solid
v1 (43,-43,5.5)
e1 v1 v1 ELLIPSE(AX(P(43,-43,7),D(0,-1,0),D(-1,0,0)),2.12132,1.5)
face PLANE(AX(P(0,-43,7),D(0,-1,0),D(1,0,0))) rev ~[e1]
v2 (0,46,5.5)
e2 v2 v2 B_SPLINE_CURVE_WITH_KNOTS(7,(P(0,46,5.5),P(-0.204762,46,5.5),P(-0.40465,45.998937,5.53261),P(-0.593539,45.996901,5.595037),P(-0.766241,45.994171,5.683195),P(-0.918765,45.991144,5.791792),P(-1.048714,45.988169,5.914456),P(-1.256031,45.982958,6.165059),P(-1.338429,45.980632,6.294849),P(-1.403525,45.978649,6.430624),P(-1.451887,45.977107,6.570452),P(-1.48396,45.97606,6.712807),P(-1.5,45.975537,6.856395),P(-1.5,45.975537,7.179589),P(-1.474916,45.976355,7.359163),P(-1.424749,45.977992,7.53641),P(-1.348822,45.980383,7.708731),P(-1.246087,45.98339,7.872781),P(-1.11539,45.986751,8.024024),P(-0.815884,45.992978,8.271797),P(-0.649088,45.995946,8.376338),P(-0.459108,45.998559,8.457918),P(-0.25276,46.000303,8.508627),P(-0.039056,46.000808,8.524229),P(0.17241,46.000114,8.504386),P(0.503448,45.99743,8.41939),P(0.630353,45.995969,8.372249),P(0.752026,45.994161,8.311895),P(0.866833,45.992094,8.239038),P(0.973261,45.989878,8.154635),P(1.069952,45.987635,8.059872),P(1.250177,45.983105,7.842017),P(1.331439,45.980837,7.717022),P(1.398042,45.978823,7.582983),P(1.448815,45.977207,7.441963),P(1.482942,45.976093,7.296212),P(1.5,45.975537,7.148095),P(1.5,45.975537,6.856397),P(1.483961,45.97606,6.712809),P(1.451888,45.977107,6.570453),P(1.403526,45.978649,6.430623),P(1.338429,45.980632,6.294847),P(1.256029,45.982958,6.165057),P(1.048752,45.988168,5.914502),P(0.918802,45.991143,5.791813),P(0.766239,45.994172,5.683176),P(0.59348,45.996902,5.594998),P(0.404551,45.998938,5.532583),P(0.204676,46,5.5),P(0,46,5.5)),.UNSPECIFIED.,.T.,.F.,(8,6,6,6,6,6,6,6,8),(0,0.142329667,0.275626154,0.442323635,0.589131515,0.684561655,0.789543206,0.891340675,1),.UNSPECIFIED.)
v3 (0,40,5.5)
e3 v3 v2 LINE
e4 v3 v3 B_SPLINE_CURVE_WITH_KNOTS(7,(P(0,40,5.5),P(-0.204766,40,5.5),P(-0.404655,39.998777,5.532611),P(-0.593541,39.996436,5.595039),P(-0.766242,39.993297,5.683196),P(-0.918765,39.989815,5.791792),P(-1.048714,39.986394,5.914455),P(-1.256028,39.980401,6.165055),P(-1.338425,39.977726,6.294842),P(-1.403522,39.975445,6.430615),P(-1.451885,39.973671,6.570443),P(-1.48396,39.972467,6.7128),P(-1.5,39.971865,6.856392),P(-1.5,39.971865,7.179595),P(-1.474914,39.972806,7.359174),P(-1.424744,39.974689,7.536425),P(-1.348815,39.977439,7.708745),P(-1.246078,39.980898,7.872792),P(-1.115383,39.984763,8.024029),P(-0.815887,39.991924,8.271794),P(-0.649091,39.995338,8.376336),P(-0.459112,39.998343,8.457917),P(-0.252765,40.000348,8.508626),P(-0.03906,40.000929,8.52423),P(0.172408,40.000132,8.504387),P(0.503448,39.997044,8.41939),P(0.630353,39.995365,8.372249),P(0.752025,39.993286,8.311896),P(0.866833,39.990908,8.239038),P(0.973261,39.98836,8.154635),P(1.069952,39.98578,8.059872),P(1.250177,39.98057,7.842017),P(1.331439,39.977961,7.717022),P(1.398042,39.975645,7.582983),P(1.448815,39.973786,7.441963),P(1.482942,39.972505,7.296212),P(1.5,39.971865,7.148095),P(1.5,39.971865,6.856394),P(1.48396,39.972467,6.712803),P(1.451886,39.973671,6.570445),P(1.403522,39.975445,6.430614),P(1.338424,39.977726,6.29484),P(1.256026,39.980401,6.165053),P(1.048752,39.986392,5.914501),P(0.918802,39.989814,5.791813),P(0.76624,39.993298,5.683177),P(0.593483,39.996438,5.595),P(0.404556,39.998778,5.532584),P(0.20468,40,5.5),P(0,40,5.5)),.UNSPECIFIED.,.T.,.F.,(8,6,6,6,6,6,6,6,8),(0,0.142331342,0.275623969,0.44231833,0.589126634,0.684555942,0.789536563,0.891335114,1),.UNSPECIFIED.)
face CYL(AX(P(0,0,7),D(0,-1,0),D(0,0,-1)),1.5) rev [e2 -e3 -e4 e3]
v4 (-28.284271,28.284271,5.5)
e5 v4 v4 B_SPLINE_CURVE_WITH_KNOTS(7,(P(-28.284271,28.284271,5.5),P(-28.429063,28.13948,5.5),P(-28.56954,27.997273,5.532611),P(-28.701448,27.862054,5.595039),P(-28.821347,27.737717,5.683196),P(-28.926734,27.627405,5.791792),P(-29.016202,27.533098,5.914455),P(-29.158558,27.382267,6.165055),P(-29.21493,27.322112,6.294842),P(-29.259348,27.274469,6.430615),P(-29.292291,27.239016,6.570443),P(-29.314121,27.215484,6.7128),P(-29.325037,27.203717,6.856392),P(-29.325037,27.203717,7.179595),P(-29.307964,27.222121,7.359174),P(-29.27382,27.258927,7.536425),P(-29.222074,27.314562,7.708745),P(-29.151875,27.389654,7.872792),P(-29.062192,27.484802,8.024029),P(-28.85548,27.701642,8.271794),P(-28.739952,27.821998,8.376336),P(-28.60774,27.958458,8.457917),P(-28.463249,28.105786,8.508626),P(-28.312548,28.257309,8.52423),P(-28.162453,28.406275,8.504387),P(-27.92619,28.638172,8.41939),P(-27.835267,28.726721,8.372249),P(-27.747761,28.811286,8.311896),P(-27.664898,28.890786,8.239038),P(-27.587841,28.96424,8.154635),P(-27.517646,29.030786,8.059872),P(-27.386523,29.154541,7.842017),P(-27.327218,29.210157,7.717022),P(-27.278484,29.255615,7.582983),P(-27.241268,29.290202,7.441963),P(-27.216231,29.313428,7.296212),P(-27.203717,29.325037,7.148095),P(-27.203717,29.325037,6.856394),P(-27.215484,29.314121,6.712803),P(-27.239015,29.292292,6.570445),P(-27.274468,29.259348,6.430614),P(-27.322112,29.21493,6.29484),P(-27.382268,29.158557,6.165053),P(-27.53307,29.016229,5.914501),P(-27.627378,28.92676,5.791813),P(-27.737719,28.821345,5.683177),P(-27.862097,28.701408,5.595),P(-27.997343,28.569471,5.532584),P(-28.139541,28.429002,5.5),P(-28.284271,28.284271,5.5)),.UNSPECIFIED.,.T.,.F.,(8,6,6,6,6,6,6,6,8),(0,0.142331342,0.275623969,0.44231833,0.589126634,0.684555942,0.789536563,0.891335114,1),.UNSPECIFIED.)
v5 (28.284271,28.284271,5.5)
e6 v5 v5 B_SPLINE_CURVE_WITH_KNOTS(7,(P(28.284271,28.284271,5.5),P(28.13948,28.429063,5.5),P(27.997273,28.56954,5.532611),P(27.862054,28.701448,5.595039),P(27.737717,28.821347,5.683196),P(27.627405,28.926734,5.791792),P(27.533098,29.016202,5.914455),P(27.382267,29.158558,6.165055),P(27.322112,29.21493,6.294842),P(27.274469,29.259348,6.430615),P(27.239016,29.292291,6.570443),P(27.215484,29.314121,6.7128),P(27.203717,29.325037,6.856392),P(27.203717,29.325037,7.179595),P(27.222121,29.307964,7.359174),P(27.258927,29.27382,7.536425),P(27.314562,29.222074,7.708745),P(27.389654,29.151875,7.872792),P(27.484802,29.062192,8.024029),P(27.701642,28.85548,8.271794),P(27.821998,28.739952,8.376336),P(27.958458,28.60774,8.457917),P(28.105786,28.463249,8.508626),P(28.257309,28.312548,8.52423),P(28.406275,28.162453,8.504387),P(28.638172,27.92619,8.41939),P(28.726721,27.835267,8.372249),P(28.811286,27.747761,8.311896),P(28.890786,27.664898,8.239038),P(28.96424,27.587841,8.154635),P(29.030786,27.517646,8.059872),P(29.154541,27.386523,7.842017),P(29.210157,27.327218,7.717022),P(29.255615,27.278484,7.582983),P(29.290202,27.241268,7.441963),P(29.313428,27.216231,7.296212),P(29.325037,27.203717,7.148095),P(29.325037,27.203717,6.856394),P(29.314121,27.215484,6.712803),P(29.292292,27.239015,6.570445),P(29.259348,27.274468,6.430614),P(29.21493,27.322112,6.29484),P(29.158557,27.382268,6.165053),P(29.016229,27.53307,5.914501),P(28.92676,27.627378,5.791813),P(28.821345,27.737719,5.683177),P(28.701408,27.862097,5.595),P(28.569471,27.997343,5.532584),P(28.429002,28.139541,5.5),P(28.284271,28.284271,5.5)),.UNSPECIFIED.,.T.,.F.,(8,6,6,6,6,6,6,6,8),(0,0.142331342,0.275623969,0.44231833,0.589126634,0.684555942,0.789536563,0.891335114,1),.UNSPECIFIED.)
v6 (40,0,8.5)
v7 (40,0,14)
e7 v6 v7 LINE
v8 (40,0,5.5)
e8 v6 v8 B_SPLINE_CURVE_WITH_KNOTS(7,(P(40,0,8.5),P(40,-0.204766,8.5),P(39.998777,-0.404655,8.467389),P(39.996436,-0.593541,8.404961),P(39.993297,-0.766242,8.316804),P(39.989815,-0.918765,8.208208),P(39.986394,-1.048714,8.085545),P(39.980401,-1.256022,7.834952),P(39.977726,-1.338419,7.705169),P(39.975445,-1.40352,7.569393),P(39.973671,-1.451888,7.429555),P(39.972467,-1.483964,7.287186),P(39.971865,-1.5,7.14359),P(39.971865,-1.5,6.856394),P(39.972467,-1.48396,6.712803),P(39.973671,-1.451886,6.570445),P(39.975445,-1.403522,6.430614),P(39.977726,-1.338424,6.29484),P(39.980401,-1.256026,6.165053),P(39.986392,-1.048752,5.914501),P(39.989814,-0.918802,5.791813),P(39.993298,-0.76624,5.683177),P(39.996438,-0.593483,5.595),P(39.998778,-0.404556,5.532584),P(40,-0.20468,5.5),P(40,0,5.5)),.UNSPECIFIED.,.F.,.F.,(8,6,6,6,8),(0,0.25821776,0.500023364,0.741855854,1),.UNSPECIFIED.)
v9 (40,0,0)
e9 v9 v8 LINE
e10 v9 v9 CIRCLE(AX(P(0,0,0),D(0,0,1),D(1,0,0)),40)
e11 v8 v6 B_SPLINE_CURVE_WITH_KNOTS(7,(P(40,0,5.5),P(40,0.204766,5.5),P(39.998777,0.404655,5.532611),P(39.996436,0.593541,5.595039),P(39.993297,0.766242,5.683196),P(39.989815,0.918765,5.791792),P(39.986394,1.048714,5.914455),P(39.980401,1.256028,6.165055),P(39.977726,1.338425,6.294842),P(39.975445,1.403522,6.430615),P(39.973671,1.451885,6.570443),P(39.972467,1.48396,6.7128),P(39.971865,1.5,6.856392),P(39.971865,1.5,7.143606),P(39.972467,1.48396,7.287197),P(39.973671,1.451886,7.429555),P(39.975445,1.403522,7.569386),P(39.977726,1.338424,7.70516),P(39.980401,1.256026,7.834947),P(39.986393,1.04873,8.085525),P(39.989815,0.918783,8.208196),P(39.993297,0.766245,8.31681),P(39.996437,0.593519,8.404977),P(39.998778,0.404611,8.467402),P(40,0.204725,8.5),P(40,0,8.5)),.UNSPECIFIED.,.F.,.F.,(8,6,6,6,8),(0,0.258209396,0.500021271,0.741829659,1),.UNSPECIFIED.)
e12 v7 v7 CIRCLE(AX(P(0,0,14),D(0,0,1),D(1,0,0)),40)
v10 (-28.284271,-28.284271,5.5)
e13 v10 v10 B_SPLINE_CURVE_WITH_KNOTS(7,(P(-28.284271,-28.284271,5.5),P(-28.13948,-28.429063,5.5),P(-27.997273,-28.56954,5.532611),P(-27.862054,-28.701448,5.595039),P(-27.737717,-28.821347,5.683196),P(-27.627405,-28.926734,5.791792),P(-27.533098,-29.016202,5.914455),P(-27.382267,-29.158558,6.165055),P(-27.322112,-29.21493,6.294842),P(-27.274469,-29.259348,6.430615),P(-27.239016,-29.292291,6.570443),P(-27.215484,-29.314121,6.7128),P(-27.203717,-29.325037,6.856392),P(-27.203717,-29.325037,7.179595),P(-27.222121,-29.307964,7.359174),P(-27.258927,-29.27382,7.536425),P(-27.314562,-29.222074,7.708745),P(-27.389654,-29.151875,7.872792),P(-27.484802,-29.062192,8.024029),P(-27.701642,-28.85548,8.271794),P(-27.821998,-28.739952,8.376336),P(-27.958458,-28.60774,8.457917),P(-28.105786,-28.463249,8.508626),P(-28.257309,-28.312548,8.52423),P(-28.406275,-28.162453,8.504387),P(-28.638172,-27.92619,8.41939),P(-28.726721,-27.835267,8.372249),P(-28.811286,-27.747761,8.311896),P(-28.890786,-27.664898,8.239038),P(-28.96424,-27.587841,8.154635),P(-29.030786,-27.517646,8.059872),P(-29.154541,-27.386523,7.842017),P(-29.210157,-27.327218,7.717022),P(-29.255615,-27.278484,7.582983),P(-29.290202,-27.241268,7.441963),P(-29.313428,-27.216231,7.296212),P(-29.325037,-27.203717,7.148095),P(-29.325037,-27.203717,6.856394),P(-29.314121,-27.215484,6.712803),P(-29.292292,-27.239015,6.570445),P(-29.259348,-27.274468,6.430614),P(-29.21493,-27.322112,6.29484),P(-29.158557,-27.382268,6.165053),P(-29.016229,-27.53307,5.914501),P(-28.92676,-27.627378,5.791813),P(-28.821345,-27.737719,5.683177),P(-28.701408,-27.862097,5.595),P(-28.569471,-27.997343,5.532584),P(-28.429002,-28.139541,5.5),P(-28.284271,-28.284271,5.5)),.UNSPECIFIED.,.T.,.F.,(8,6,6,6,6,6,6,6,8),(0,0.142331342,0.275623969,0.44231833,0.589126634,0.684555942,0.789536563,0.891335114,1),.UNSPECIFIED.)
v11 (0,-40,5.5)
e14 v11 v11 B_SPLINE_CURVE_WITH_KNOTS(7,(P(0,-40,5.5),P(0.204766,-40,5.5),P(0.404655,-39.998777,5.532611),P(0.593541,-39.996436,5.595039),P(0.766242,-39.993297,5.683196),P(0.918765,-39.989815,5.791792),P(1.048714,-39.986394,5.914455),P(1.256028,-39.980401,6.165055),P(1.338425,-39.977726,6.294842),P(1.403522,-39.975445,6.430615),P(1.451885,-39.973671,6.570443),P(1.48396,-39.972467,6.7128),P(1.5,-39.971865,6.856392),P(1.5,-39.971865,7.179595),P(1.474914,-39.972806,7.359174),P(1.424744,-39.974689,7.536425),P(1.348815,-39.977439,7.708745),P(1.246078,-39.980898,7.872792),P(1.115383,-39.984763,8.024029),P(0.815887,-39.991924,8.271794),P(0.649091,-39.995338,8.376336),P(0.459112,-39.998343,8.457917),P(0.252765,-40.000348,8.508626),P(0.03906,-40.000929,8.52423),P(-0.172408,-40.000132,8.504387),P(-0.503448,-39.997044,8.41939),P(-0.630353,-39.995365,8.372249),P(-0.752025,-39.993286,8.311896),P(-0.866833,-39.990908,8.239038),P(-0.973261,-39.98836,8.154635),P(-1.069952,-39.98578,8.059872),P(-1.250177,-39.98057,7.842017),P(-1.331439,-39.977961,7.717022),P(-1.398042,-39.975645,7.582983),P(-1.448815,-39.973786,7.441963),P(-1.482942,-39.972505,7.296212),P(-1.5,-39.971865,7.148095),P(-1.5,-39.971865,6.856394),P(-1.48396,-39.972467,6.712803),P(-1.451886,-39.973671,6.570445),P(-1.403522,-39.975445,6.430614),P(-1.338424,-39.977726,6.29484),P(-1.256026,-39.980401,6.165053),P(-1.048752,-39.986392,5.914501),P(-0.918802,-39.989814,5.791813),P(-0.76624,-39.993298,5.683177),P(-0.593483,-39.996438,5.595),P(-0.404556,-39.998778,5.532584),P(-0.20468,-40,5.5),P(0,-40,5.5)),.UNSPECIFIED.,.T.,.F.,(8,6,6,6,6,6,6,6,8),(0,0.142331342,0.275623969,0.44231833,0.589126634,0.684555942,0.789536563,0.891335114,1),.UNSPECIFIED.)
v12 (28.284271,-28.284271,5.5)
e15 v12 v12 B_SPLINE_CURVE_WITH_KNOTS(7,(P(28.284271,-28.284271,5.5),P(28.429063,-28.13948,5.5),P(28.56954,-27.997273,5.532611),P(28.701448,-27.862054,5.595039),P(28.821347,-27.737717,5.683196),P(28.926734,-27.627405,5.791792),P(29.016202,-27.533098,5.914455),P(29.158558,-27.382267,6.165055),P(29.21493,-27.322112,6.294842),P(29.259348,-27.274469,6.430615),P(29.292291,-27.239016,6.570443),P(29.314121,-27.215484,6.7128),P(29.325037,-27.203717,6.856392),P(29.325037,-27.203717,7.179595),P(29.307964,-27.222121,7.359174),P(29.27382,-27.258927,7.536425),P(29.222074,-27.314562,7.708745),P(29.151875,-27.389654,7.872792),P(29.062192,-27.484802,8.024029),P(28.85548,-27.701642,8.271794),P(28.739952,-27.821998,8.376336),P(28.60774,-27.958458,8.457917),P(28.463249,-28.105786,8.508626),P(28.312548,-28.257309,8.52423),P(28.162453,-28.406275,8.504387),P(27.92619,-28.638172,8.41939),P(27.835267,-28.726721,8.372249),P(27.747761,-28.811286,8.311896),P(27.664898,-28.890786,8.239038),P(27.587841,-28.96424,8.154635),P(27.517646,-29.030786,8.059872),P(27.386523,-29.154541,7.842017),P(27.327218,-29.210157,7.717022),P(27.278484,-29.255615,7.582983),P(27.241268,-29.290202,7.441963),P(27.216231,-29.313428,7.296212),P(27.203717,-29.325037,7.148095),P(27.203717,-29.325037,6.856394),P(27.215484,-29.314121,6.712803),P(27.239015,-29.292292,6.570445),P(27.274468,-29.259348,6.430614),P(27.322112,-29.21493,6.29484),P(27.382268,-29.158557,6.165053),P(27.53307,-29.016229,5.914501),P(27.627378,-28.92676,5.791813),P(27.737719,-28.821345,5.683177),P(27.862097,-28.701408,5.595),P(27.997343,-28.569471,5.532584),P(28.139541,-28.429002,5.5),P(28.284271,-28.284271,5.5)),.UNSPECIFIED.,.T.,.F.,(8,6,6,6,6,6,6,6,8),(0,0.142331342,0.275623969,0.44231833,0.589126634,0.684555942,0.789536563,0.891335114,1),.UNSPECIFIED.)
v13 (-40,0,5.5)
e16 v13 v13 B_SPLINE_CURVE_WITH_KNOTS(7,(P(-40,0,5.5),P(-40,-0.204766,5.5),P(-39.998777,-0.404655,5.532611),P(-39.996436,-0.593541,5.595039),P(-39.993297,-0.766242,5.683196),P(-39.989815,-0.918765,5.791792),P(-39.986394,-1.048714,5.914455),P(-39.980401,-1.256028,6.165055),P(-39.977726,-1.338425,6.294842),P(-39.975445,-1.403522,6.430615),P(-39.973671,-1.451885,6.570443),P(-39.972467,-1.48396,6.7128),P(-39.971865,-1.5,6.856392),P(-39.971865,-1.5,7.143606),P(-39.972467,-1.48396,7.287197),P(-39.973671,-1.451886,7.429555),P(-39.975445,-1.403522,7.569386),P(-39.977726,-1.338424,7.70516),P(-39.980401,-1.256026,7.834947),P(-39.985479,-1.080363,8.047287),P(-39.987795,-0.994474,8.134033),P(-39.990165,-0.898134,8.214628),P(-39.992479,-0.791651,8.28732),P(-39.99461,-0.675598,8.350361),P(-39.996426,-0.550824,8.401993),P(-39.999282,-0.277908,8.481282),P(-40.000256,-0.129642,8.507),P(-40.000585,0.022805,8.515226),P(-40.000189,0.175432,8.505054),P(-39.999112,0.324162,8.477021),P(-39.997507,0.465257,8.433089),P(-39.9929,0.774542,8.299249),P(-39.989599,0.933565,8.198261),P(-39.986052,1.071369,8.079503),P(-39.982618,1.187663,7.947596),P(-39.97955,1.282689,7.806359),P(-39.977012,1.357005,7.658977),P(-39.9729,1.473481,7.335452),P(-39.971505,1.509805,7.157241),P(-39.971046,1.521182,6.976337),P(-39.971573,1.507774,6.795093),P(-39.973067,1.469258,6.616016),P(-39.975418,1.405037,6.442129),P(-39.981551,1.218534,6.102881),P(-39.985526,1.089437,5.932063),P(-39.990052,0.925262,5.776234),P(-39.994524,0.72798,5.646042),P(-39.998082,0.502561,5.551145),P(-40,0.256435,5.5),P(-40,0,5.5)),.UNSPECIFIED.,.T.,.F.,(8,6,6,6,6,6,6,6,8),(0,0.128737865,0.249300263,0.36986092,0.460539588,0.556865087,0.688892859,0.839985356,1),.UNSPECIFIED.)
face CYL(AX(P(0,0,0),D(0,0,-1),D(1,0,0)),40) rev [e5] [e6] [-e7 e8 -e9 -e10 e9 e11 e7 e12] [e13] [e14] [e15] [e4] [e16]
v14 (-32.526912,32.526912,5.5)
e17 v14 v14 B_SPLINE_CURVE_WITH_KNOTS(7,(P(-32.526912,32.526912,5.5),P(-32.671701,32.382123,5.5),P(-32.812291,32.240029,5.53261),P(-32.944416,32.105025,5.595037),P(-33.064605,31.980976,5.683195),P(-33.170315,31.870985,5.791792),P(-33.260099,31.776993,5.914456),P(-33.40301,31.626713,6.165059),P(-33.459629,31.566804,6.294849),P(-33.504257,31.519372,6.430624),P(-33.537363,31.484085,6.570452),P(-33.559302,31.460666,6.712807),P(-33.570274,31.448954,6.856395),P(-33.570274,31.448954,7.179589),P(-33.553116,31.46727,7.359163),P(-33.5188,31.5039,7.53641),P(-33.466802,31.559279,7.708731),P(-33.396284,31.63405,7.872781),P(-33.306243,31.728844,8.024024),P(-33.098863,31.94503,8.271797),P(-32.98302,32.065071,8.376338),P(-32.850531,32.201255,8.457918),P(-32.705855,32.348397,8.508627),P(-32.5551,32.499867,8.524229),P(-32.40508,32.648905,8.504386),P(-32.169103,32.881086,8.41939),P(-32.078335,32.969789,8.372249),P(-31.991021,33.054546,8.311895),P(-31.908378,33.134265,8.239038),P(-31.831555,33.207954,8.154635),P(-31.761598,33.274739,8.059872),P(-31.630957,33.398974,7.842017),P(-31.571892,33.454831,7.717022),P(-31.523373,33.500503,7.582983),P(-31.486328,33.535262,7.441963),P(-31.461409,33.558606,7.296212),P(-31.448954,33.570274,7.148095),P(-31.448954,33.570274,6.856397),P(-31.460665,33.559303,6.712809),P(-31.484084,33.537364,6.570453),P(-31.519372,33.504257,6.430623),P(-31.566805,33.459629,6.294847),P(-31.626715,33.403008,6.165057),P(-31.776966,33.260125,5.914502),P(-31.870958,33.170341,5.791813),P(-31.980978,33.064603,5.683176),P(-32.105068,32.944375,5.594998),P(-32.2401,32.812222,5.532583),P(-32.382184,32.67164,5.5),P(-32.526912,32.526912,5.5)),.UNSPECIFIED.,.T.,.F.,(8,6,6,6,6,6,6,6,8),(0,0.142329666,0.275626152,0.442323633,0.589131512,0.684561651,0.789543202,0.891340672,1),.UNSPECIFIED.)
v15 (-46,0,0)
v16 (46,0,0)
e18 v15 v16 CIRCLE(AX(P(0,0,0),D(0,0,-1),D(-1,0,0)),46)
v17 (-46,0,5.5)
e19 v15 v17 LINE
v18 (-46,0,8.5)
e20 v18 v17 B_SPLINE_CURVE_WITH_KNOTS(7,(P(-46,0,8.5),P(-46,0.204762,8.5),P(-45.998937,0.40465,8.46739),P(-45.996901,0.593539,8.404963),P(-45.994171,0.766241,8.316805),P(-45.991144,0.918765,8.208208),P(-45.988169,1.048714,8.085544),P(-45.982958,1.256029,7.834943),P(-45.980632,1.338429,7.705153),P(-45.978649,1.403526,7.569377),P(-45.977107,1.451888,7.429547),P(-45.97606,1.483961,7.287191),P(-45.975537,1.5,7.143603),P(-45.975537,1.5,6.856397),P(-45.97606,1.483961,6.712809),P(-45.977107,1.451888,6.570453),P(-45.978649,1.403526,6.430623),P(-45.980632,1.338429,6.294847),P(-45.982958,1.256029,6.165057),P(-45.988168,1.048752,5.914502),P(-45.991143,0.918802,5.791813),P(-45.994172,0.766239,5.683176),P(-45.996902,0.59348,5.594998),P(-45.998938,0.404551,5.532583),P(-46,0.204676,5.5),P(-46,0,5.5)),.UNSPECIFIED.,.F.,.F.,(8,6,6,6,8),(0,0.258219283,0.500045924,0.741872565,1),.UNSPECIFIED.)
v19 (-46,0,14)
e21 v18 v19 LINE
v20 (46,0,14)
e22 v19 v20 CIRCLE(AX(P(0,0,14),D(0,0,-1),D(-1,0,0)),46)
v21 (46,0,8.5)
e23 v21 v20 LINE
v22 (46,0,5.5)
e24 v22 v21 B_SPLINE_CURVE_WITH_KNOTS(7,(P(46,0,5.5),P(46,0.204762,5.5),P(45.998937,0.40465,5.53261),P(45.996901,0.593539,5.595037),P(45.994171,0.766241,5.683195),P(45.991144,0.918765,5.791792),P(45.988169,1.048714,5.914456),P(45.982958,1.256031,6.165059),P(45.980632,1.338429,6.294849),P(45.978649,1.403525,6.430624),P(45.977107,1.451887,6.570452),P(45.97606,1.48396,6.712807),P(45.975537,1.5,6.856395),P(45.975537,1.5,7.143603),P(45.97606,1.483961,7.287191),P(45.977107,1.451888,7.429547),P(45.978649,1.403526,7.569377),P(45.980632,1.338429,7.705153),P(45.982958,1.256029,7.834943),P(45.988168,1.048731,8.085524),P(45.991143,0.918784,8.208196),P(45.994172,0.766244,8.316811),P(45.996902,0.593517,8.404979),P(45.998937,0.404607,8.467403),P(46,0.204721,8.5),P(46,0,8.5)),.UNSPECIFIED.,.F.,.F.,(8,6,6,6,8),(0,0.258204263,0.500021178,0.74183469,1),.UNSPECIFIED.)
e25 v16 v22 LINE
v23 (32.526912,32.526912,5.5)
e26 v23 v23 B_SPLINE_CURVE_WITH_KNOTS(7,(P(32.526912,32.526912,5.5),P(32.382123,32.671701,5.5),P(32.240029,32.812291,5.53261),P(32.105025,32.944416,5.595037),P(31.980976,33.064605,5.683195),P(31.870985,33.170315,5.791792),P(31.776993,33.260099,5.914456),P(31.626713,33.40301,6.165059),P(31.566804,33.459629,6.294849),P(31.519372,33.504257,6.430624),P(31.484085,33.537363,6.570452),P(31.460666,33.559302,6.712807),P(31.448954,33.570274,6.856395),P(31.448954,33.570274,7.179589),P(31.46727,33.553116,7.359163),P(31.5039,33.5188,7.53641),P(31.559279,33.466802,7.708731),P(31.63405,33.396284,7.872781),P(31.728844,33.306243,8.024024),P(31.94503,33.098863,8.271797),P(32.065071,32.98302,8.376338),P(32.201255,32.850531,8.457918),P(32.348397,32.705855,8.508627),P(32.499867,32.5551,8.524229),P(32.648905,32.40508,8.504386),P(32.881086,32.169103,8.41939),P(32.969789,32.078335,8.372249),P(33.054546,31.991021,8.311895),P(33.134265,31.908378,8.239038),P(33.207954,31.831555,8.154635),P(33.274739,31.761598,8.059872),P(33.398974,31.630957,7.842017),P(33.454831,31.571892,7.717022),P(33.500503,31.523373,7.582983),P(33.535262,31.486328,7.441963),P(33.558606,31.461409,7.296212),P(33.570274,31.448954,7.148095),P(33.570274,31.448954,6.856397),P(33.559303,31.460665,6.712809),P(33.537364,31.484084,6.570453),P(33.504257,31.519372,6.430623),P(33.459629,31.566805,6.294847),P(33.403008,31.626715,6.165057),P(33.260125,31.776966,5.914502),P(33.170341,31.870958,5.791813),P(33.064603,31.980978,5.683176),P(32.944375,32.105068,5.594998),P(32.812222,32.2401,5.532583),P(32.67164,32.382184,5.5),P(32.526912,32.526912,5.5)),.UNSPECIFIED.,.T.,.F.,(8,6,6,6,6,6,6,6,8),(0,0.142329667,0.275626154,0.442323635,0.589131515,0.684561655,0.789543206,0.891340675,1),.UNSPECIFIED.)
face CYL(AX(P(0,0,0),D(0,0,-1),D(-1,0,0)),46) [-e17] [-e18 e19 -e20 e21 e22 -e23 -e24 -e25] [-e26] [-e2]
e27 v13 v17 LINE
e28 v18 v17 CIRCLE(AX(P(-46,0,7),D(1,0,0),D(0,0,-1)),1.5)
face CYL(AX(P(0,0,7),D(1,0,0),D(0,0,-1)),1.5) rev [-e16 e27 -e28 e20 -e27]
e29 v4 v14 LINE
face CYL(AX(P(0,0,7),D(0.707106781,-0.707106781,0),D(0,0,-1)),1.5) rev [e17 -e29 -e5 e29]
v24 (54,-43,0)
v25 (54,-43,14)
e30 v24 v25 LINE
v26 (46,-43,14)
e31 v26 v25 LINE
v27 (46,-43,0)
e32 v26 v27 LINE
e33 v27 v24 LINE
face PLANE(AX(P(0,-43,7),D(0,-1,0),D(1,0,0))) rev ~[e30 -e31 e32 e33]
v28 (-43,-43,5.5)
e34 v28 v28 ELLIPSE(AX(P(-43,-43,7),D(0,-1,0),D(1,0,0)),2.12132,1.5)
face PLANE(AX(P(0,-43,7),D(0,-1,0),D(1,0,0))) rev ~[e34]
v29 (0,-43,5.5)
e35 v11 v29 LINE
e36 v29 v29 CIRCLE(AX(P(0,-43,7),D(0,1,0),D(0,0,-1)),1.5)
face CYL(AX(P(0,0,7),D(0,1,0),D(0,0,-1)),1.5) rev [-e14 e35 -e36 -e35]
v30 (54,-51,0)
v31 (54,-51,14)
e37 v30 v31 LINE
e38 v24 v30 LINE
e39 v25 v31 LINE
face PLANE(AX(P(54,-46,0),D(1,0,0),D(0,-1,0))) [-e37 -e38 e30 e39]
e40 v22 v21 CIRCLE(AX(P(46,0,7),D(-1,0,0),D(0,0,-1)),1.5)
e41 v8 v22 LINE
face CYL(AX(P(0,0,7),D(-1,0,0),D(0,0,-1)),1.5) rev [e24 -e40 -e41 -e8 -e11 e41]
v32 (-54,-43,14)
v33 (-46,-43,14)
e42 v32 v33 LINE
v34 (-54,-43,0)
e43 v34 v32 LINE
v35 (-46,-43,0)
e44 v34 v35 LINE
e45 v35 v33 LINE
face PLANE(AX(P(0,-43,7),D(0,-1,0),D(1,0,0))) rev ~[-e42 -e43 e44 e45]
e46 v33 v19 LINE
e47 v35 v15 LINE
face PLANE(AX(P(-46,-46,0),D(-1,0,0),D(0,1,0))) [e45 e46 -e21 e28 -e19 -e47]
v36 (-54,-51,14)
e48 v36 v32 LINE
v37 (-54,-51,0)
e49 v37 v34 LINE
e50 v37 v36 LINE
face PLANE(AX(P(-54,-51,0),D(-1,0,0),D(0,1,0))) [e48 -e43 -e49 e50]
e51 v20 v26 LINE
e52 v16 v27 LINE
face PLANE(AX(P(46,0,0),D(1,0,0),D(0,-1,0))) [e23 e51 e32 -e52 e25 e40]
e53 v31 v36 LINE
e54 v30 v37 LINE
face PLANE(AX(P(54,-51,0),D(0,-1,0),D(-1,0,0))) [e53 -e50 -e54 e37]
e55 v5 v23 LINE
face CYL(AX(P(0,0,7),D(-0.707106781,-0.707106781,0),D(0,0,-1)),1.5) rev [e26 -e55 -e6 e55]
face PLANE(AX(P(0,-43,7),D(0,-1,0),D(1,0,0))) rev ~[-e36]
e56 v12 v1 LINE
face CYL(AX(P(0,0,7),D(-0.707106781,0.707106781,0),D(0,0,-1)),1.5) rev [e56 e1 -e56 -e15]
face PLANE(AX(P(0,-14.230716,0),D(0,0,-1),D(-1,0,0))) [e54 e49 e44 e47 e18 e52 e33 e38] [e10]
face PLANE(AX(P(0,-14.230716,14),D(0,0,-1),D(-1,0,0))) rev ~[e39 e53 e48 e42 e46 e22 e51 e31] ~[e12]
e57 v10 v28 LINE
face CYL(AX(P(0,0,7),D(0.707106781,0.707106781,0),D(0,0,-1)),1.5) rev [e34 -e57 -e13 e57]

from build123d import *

# Parameters (mm, degrees)
SKETCH1_R           = 40
BOSS_EXTRUDE1_DEPTH = 14
SKETCH2_R           = 1.5
CUT_EXTRUDE1_DEPTH  = 76.584389923
CIRPATTERN1_COUNT   = 8
SKETCH5_W           = 108
SKETCH5_H           = 14
BOSS_EXTRUDE2_DEPTH = 8


with BuildPart() as part:
    # Sketch1 → Boss-Extrude1 (new body)
    with BuildSketch(Plane.XY):
        with BuildLine():
            Line((46, -46), (54, -46))
            Line((54, -46), (54, -51))
            Line((54, -51), (-54, -51))
            Line((-54, -51), (-54, -46))
            Line((-54, -46), (-46, -46))
            Line((-46, -46), (-46, 0))
            ThreePointArc((-46, 0), (0, 46), (46, 0))
            Line((46, 0), (46, -46))
        make_face()
        Circle(SKETCH1_R, mode=Mode.SUBTRACT)
    extrude(amount=BOSS_EXTRUDE1_DEPTH)

    # Sketch2 → Cut-Extrude1 (cut, through all)
    with BuildSketch(Plane(origin=(0, 0, 0), x_dir=(1, 0, 0), z_dir=(0, 1, 0))):
        with Locations(Location((0, -7, 0), (0, 0, 90))):
            Circle(SKETCH2_R)
    cut_extrude1 = extrude(amount=CUT_EXTRUDE1_DEPTH, mode=Mode.SUBTRACT)

    # CirPattern1: Cut-Extrude1 ×8 about axis
    cirpattern1_axis = Axis((0, 0, 0), (0, 0, 1))
    for i in range(1, CIRPATTERN1_COUNT):
        add(cut_extrude1.rotate(cirpattern1_axis, i * 360 / CIRPATTERN1_COUNT), mode=Mode.SUBTRACT)

    # Sketch5 → Boss-Extrude2 (add)
    with BuildSketch(Plane.XZ.offset(51)):
        with Locations((0, 7)):
            Rectangle(SKETCH5_W, SKETCH5_H)
    extrude(amount=-BOSS_EXTRUDE2_DEPTH)


solid = part.part
